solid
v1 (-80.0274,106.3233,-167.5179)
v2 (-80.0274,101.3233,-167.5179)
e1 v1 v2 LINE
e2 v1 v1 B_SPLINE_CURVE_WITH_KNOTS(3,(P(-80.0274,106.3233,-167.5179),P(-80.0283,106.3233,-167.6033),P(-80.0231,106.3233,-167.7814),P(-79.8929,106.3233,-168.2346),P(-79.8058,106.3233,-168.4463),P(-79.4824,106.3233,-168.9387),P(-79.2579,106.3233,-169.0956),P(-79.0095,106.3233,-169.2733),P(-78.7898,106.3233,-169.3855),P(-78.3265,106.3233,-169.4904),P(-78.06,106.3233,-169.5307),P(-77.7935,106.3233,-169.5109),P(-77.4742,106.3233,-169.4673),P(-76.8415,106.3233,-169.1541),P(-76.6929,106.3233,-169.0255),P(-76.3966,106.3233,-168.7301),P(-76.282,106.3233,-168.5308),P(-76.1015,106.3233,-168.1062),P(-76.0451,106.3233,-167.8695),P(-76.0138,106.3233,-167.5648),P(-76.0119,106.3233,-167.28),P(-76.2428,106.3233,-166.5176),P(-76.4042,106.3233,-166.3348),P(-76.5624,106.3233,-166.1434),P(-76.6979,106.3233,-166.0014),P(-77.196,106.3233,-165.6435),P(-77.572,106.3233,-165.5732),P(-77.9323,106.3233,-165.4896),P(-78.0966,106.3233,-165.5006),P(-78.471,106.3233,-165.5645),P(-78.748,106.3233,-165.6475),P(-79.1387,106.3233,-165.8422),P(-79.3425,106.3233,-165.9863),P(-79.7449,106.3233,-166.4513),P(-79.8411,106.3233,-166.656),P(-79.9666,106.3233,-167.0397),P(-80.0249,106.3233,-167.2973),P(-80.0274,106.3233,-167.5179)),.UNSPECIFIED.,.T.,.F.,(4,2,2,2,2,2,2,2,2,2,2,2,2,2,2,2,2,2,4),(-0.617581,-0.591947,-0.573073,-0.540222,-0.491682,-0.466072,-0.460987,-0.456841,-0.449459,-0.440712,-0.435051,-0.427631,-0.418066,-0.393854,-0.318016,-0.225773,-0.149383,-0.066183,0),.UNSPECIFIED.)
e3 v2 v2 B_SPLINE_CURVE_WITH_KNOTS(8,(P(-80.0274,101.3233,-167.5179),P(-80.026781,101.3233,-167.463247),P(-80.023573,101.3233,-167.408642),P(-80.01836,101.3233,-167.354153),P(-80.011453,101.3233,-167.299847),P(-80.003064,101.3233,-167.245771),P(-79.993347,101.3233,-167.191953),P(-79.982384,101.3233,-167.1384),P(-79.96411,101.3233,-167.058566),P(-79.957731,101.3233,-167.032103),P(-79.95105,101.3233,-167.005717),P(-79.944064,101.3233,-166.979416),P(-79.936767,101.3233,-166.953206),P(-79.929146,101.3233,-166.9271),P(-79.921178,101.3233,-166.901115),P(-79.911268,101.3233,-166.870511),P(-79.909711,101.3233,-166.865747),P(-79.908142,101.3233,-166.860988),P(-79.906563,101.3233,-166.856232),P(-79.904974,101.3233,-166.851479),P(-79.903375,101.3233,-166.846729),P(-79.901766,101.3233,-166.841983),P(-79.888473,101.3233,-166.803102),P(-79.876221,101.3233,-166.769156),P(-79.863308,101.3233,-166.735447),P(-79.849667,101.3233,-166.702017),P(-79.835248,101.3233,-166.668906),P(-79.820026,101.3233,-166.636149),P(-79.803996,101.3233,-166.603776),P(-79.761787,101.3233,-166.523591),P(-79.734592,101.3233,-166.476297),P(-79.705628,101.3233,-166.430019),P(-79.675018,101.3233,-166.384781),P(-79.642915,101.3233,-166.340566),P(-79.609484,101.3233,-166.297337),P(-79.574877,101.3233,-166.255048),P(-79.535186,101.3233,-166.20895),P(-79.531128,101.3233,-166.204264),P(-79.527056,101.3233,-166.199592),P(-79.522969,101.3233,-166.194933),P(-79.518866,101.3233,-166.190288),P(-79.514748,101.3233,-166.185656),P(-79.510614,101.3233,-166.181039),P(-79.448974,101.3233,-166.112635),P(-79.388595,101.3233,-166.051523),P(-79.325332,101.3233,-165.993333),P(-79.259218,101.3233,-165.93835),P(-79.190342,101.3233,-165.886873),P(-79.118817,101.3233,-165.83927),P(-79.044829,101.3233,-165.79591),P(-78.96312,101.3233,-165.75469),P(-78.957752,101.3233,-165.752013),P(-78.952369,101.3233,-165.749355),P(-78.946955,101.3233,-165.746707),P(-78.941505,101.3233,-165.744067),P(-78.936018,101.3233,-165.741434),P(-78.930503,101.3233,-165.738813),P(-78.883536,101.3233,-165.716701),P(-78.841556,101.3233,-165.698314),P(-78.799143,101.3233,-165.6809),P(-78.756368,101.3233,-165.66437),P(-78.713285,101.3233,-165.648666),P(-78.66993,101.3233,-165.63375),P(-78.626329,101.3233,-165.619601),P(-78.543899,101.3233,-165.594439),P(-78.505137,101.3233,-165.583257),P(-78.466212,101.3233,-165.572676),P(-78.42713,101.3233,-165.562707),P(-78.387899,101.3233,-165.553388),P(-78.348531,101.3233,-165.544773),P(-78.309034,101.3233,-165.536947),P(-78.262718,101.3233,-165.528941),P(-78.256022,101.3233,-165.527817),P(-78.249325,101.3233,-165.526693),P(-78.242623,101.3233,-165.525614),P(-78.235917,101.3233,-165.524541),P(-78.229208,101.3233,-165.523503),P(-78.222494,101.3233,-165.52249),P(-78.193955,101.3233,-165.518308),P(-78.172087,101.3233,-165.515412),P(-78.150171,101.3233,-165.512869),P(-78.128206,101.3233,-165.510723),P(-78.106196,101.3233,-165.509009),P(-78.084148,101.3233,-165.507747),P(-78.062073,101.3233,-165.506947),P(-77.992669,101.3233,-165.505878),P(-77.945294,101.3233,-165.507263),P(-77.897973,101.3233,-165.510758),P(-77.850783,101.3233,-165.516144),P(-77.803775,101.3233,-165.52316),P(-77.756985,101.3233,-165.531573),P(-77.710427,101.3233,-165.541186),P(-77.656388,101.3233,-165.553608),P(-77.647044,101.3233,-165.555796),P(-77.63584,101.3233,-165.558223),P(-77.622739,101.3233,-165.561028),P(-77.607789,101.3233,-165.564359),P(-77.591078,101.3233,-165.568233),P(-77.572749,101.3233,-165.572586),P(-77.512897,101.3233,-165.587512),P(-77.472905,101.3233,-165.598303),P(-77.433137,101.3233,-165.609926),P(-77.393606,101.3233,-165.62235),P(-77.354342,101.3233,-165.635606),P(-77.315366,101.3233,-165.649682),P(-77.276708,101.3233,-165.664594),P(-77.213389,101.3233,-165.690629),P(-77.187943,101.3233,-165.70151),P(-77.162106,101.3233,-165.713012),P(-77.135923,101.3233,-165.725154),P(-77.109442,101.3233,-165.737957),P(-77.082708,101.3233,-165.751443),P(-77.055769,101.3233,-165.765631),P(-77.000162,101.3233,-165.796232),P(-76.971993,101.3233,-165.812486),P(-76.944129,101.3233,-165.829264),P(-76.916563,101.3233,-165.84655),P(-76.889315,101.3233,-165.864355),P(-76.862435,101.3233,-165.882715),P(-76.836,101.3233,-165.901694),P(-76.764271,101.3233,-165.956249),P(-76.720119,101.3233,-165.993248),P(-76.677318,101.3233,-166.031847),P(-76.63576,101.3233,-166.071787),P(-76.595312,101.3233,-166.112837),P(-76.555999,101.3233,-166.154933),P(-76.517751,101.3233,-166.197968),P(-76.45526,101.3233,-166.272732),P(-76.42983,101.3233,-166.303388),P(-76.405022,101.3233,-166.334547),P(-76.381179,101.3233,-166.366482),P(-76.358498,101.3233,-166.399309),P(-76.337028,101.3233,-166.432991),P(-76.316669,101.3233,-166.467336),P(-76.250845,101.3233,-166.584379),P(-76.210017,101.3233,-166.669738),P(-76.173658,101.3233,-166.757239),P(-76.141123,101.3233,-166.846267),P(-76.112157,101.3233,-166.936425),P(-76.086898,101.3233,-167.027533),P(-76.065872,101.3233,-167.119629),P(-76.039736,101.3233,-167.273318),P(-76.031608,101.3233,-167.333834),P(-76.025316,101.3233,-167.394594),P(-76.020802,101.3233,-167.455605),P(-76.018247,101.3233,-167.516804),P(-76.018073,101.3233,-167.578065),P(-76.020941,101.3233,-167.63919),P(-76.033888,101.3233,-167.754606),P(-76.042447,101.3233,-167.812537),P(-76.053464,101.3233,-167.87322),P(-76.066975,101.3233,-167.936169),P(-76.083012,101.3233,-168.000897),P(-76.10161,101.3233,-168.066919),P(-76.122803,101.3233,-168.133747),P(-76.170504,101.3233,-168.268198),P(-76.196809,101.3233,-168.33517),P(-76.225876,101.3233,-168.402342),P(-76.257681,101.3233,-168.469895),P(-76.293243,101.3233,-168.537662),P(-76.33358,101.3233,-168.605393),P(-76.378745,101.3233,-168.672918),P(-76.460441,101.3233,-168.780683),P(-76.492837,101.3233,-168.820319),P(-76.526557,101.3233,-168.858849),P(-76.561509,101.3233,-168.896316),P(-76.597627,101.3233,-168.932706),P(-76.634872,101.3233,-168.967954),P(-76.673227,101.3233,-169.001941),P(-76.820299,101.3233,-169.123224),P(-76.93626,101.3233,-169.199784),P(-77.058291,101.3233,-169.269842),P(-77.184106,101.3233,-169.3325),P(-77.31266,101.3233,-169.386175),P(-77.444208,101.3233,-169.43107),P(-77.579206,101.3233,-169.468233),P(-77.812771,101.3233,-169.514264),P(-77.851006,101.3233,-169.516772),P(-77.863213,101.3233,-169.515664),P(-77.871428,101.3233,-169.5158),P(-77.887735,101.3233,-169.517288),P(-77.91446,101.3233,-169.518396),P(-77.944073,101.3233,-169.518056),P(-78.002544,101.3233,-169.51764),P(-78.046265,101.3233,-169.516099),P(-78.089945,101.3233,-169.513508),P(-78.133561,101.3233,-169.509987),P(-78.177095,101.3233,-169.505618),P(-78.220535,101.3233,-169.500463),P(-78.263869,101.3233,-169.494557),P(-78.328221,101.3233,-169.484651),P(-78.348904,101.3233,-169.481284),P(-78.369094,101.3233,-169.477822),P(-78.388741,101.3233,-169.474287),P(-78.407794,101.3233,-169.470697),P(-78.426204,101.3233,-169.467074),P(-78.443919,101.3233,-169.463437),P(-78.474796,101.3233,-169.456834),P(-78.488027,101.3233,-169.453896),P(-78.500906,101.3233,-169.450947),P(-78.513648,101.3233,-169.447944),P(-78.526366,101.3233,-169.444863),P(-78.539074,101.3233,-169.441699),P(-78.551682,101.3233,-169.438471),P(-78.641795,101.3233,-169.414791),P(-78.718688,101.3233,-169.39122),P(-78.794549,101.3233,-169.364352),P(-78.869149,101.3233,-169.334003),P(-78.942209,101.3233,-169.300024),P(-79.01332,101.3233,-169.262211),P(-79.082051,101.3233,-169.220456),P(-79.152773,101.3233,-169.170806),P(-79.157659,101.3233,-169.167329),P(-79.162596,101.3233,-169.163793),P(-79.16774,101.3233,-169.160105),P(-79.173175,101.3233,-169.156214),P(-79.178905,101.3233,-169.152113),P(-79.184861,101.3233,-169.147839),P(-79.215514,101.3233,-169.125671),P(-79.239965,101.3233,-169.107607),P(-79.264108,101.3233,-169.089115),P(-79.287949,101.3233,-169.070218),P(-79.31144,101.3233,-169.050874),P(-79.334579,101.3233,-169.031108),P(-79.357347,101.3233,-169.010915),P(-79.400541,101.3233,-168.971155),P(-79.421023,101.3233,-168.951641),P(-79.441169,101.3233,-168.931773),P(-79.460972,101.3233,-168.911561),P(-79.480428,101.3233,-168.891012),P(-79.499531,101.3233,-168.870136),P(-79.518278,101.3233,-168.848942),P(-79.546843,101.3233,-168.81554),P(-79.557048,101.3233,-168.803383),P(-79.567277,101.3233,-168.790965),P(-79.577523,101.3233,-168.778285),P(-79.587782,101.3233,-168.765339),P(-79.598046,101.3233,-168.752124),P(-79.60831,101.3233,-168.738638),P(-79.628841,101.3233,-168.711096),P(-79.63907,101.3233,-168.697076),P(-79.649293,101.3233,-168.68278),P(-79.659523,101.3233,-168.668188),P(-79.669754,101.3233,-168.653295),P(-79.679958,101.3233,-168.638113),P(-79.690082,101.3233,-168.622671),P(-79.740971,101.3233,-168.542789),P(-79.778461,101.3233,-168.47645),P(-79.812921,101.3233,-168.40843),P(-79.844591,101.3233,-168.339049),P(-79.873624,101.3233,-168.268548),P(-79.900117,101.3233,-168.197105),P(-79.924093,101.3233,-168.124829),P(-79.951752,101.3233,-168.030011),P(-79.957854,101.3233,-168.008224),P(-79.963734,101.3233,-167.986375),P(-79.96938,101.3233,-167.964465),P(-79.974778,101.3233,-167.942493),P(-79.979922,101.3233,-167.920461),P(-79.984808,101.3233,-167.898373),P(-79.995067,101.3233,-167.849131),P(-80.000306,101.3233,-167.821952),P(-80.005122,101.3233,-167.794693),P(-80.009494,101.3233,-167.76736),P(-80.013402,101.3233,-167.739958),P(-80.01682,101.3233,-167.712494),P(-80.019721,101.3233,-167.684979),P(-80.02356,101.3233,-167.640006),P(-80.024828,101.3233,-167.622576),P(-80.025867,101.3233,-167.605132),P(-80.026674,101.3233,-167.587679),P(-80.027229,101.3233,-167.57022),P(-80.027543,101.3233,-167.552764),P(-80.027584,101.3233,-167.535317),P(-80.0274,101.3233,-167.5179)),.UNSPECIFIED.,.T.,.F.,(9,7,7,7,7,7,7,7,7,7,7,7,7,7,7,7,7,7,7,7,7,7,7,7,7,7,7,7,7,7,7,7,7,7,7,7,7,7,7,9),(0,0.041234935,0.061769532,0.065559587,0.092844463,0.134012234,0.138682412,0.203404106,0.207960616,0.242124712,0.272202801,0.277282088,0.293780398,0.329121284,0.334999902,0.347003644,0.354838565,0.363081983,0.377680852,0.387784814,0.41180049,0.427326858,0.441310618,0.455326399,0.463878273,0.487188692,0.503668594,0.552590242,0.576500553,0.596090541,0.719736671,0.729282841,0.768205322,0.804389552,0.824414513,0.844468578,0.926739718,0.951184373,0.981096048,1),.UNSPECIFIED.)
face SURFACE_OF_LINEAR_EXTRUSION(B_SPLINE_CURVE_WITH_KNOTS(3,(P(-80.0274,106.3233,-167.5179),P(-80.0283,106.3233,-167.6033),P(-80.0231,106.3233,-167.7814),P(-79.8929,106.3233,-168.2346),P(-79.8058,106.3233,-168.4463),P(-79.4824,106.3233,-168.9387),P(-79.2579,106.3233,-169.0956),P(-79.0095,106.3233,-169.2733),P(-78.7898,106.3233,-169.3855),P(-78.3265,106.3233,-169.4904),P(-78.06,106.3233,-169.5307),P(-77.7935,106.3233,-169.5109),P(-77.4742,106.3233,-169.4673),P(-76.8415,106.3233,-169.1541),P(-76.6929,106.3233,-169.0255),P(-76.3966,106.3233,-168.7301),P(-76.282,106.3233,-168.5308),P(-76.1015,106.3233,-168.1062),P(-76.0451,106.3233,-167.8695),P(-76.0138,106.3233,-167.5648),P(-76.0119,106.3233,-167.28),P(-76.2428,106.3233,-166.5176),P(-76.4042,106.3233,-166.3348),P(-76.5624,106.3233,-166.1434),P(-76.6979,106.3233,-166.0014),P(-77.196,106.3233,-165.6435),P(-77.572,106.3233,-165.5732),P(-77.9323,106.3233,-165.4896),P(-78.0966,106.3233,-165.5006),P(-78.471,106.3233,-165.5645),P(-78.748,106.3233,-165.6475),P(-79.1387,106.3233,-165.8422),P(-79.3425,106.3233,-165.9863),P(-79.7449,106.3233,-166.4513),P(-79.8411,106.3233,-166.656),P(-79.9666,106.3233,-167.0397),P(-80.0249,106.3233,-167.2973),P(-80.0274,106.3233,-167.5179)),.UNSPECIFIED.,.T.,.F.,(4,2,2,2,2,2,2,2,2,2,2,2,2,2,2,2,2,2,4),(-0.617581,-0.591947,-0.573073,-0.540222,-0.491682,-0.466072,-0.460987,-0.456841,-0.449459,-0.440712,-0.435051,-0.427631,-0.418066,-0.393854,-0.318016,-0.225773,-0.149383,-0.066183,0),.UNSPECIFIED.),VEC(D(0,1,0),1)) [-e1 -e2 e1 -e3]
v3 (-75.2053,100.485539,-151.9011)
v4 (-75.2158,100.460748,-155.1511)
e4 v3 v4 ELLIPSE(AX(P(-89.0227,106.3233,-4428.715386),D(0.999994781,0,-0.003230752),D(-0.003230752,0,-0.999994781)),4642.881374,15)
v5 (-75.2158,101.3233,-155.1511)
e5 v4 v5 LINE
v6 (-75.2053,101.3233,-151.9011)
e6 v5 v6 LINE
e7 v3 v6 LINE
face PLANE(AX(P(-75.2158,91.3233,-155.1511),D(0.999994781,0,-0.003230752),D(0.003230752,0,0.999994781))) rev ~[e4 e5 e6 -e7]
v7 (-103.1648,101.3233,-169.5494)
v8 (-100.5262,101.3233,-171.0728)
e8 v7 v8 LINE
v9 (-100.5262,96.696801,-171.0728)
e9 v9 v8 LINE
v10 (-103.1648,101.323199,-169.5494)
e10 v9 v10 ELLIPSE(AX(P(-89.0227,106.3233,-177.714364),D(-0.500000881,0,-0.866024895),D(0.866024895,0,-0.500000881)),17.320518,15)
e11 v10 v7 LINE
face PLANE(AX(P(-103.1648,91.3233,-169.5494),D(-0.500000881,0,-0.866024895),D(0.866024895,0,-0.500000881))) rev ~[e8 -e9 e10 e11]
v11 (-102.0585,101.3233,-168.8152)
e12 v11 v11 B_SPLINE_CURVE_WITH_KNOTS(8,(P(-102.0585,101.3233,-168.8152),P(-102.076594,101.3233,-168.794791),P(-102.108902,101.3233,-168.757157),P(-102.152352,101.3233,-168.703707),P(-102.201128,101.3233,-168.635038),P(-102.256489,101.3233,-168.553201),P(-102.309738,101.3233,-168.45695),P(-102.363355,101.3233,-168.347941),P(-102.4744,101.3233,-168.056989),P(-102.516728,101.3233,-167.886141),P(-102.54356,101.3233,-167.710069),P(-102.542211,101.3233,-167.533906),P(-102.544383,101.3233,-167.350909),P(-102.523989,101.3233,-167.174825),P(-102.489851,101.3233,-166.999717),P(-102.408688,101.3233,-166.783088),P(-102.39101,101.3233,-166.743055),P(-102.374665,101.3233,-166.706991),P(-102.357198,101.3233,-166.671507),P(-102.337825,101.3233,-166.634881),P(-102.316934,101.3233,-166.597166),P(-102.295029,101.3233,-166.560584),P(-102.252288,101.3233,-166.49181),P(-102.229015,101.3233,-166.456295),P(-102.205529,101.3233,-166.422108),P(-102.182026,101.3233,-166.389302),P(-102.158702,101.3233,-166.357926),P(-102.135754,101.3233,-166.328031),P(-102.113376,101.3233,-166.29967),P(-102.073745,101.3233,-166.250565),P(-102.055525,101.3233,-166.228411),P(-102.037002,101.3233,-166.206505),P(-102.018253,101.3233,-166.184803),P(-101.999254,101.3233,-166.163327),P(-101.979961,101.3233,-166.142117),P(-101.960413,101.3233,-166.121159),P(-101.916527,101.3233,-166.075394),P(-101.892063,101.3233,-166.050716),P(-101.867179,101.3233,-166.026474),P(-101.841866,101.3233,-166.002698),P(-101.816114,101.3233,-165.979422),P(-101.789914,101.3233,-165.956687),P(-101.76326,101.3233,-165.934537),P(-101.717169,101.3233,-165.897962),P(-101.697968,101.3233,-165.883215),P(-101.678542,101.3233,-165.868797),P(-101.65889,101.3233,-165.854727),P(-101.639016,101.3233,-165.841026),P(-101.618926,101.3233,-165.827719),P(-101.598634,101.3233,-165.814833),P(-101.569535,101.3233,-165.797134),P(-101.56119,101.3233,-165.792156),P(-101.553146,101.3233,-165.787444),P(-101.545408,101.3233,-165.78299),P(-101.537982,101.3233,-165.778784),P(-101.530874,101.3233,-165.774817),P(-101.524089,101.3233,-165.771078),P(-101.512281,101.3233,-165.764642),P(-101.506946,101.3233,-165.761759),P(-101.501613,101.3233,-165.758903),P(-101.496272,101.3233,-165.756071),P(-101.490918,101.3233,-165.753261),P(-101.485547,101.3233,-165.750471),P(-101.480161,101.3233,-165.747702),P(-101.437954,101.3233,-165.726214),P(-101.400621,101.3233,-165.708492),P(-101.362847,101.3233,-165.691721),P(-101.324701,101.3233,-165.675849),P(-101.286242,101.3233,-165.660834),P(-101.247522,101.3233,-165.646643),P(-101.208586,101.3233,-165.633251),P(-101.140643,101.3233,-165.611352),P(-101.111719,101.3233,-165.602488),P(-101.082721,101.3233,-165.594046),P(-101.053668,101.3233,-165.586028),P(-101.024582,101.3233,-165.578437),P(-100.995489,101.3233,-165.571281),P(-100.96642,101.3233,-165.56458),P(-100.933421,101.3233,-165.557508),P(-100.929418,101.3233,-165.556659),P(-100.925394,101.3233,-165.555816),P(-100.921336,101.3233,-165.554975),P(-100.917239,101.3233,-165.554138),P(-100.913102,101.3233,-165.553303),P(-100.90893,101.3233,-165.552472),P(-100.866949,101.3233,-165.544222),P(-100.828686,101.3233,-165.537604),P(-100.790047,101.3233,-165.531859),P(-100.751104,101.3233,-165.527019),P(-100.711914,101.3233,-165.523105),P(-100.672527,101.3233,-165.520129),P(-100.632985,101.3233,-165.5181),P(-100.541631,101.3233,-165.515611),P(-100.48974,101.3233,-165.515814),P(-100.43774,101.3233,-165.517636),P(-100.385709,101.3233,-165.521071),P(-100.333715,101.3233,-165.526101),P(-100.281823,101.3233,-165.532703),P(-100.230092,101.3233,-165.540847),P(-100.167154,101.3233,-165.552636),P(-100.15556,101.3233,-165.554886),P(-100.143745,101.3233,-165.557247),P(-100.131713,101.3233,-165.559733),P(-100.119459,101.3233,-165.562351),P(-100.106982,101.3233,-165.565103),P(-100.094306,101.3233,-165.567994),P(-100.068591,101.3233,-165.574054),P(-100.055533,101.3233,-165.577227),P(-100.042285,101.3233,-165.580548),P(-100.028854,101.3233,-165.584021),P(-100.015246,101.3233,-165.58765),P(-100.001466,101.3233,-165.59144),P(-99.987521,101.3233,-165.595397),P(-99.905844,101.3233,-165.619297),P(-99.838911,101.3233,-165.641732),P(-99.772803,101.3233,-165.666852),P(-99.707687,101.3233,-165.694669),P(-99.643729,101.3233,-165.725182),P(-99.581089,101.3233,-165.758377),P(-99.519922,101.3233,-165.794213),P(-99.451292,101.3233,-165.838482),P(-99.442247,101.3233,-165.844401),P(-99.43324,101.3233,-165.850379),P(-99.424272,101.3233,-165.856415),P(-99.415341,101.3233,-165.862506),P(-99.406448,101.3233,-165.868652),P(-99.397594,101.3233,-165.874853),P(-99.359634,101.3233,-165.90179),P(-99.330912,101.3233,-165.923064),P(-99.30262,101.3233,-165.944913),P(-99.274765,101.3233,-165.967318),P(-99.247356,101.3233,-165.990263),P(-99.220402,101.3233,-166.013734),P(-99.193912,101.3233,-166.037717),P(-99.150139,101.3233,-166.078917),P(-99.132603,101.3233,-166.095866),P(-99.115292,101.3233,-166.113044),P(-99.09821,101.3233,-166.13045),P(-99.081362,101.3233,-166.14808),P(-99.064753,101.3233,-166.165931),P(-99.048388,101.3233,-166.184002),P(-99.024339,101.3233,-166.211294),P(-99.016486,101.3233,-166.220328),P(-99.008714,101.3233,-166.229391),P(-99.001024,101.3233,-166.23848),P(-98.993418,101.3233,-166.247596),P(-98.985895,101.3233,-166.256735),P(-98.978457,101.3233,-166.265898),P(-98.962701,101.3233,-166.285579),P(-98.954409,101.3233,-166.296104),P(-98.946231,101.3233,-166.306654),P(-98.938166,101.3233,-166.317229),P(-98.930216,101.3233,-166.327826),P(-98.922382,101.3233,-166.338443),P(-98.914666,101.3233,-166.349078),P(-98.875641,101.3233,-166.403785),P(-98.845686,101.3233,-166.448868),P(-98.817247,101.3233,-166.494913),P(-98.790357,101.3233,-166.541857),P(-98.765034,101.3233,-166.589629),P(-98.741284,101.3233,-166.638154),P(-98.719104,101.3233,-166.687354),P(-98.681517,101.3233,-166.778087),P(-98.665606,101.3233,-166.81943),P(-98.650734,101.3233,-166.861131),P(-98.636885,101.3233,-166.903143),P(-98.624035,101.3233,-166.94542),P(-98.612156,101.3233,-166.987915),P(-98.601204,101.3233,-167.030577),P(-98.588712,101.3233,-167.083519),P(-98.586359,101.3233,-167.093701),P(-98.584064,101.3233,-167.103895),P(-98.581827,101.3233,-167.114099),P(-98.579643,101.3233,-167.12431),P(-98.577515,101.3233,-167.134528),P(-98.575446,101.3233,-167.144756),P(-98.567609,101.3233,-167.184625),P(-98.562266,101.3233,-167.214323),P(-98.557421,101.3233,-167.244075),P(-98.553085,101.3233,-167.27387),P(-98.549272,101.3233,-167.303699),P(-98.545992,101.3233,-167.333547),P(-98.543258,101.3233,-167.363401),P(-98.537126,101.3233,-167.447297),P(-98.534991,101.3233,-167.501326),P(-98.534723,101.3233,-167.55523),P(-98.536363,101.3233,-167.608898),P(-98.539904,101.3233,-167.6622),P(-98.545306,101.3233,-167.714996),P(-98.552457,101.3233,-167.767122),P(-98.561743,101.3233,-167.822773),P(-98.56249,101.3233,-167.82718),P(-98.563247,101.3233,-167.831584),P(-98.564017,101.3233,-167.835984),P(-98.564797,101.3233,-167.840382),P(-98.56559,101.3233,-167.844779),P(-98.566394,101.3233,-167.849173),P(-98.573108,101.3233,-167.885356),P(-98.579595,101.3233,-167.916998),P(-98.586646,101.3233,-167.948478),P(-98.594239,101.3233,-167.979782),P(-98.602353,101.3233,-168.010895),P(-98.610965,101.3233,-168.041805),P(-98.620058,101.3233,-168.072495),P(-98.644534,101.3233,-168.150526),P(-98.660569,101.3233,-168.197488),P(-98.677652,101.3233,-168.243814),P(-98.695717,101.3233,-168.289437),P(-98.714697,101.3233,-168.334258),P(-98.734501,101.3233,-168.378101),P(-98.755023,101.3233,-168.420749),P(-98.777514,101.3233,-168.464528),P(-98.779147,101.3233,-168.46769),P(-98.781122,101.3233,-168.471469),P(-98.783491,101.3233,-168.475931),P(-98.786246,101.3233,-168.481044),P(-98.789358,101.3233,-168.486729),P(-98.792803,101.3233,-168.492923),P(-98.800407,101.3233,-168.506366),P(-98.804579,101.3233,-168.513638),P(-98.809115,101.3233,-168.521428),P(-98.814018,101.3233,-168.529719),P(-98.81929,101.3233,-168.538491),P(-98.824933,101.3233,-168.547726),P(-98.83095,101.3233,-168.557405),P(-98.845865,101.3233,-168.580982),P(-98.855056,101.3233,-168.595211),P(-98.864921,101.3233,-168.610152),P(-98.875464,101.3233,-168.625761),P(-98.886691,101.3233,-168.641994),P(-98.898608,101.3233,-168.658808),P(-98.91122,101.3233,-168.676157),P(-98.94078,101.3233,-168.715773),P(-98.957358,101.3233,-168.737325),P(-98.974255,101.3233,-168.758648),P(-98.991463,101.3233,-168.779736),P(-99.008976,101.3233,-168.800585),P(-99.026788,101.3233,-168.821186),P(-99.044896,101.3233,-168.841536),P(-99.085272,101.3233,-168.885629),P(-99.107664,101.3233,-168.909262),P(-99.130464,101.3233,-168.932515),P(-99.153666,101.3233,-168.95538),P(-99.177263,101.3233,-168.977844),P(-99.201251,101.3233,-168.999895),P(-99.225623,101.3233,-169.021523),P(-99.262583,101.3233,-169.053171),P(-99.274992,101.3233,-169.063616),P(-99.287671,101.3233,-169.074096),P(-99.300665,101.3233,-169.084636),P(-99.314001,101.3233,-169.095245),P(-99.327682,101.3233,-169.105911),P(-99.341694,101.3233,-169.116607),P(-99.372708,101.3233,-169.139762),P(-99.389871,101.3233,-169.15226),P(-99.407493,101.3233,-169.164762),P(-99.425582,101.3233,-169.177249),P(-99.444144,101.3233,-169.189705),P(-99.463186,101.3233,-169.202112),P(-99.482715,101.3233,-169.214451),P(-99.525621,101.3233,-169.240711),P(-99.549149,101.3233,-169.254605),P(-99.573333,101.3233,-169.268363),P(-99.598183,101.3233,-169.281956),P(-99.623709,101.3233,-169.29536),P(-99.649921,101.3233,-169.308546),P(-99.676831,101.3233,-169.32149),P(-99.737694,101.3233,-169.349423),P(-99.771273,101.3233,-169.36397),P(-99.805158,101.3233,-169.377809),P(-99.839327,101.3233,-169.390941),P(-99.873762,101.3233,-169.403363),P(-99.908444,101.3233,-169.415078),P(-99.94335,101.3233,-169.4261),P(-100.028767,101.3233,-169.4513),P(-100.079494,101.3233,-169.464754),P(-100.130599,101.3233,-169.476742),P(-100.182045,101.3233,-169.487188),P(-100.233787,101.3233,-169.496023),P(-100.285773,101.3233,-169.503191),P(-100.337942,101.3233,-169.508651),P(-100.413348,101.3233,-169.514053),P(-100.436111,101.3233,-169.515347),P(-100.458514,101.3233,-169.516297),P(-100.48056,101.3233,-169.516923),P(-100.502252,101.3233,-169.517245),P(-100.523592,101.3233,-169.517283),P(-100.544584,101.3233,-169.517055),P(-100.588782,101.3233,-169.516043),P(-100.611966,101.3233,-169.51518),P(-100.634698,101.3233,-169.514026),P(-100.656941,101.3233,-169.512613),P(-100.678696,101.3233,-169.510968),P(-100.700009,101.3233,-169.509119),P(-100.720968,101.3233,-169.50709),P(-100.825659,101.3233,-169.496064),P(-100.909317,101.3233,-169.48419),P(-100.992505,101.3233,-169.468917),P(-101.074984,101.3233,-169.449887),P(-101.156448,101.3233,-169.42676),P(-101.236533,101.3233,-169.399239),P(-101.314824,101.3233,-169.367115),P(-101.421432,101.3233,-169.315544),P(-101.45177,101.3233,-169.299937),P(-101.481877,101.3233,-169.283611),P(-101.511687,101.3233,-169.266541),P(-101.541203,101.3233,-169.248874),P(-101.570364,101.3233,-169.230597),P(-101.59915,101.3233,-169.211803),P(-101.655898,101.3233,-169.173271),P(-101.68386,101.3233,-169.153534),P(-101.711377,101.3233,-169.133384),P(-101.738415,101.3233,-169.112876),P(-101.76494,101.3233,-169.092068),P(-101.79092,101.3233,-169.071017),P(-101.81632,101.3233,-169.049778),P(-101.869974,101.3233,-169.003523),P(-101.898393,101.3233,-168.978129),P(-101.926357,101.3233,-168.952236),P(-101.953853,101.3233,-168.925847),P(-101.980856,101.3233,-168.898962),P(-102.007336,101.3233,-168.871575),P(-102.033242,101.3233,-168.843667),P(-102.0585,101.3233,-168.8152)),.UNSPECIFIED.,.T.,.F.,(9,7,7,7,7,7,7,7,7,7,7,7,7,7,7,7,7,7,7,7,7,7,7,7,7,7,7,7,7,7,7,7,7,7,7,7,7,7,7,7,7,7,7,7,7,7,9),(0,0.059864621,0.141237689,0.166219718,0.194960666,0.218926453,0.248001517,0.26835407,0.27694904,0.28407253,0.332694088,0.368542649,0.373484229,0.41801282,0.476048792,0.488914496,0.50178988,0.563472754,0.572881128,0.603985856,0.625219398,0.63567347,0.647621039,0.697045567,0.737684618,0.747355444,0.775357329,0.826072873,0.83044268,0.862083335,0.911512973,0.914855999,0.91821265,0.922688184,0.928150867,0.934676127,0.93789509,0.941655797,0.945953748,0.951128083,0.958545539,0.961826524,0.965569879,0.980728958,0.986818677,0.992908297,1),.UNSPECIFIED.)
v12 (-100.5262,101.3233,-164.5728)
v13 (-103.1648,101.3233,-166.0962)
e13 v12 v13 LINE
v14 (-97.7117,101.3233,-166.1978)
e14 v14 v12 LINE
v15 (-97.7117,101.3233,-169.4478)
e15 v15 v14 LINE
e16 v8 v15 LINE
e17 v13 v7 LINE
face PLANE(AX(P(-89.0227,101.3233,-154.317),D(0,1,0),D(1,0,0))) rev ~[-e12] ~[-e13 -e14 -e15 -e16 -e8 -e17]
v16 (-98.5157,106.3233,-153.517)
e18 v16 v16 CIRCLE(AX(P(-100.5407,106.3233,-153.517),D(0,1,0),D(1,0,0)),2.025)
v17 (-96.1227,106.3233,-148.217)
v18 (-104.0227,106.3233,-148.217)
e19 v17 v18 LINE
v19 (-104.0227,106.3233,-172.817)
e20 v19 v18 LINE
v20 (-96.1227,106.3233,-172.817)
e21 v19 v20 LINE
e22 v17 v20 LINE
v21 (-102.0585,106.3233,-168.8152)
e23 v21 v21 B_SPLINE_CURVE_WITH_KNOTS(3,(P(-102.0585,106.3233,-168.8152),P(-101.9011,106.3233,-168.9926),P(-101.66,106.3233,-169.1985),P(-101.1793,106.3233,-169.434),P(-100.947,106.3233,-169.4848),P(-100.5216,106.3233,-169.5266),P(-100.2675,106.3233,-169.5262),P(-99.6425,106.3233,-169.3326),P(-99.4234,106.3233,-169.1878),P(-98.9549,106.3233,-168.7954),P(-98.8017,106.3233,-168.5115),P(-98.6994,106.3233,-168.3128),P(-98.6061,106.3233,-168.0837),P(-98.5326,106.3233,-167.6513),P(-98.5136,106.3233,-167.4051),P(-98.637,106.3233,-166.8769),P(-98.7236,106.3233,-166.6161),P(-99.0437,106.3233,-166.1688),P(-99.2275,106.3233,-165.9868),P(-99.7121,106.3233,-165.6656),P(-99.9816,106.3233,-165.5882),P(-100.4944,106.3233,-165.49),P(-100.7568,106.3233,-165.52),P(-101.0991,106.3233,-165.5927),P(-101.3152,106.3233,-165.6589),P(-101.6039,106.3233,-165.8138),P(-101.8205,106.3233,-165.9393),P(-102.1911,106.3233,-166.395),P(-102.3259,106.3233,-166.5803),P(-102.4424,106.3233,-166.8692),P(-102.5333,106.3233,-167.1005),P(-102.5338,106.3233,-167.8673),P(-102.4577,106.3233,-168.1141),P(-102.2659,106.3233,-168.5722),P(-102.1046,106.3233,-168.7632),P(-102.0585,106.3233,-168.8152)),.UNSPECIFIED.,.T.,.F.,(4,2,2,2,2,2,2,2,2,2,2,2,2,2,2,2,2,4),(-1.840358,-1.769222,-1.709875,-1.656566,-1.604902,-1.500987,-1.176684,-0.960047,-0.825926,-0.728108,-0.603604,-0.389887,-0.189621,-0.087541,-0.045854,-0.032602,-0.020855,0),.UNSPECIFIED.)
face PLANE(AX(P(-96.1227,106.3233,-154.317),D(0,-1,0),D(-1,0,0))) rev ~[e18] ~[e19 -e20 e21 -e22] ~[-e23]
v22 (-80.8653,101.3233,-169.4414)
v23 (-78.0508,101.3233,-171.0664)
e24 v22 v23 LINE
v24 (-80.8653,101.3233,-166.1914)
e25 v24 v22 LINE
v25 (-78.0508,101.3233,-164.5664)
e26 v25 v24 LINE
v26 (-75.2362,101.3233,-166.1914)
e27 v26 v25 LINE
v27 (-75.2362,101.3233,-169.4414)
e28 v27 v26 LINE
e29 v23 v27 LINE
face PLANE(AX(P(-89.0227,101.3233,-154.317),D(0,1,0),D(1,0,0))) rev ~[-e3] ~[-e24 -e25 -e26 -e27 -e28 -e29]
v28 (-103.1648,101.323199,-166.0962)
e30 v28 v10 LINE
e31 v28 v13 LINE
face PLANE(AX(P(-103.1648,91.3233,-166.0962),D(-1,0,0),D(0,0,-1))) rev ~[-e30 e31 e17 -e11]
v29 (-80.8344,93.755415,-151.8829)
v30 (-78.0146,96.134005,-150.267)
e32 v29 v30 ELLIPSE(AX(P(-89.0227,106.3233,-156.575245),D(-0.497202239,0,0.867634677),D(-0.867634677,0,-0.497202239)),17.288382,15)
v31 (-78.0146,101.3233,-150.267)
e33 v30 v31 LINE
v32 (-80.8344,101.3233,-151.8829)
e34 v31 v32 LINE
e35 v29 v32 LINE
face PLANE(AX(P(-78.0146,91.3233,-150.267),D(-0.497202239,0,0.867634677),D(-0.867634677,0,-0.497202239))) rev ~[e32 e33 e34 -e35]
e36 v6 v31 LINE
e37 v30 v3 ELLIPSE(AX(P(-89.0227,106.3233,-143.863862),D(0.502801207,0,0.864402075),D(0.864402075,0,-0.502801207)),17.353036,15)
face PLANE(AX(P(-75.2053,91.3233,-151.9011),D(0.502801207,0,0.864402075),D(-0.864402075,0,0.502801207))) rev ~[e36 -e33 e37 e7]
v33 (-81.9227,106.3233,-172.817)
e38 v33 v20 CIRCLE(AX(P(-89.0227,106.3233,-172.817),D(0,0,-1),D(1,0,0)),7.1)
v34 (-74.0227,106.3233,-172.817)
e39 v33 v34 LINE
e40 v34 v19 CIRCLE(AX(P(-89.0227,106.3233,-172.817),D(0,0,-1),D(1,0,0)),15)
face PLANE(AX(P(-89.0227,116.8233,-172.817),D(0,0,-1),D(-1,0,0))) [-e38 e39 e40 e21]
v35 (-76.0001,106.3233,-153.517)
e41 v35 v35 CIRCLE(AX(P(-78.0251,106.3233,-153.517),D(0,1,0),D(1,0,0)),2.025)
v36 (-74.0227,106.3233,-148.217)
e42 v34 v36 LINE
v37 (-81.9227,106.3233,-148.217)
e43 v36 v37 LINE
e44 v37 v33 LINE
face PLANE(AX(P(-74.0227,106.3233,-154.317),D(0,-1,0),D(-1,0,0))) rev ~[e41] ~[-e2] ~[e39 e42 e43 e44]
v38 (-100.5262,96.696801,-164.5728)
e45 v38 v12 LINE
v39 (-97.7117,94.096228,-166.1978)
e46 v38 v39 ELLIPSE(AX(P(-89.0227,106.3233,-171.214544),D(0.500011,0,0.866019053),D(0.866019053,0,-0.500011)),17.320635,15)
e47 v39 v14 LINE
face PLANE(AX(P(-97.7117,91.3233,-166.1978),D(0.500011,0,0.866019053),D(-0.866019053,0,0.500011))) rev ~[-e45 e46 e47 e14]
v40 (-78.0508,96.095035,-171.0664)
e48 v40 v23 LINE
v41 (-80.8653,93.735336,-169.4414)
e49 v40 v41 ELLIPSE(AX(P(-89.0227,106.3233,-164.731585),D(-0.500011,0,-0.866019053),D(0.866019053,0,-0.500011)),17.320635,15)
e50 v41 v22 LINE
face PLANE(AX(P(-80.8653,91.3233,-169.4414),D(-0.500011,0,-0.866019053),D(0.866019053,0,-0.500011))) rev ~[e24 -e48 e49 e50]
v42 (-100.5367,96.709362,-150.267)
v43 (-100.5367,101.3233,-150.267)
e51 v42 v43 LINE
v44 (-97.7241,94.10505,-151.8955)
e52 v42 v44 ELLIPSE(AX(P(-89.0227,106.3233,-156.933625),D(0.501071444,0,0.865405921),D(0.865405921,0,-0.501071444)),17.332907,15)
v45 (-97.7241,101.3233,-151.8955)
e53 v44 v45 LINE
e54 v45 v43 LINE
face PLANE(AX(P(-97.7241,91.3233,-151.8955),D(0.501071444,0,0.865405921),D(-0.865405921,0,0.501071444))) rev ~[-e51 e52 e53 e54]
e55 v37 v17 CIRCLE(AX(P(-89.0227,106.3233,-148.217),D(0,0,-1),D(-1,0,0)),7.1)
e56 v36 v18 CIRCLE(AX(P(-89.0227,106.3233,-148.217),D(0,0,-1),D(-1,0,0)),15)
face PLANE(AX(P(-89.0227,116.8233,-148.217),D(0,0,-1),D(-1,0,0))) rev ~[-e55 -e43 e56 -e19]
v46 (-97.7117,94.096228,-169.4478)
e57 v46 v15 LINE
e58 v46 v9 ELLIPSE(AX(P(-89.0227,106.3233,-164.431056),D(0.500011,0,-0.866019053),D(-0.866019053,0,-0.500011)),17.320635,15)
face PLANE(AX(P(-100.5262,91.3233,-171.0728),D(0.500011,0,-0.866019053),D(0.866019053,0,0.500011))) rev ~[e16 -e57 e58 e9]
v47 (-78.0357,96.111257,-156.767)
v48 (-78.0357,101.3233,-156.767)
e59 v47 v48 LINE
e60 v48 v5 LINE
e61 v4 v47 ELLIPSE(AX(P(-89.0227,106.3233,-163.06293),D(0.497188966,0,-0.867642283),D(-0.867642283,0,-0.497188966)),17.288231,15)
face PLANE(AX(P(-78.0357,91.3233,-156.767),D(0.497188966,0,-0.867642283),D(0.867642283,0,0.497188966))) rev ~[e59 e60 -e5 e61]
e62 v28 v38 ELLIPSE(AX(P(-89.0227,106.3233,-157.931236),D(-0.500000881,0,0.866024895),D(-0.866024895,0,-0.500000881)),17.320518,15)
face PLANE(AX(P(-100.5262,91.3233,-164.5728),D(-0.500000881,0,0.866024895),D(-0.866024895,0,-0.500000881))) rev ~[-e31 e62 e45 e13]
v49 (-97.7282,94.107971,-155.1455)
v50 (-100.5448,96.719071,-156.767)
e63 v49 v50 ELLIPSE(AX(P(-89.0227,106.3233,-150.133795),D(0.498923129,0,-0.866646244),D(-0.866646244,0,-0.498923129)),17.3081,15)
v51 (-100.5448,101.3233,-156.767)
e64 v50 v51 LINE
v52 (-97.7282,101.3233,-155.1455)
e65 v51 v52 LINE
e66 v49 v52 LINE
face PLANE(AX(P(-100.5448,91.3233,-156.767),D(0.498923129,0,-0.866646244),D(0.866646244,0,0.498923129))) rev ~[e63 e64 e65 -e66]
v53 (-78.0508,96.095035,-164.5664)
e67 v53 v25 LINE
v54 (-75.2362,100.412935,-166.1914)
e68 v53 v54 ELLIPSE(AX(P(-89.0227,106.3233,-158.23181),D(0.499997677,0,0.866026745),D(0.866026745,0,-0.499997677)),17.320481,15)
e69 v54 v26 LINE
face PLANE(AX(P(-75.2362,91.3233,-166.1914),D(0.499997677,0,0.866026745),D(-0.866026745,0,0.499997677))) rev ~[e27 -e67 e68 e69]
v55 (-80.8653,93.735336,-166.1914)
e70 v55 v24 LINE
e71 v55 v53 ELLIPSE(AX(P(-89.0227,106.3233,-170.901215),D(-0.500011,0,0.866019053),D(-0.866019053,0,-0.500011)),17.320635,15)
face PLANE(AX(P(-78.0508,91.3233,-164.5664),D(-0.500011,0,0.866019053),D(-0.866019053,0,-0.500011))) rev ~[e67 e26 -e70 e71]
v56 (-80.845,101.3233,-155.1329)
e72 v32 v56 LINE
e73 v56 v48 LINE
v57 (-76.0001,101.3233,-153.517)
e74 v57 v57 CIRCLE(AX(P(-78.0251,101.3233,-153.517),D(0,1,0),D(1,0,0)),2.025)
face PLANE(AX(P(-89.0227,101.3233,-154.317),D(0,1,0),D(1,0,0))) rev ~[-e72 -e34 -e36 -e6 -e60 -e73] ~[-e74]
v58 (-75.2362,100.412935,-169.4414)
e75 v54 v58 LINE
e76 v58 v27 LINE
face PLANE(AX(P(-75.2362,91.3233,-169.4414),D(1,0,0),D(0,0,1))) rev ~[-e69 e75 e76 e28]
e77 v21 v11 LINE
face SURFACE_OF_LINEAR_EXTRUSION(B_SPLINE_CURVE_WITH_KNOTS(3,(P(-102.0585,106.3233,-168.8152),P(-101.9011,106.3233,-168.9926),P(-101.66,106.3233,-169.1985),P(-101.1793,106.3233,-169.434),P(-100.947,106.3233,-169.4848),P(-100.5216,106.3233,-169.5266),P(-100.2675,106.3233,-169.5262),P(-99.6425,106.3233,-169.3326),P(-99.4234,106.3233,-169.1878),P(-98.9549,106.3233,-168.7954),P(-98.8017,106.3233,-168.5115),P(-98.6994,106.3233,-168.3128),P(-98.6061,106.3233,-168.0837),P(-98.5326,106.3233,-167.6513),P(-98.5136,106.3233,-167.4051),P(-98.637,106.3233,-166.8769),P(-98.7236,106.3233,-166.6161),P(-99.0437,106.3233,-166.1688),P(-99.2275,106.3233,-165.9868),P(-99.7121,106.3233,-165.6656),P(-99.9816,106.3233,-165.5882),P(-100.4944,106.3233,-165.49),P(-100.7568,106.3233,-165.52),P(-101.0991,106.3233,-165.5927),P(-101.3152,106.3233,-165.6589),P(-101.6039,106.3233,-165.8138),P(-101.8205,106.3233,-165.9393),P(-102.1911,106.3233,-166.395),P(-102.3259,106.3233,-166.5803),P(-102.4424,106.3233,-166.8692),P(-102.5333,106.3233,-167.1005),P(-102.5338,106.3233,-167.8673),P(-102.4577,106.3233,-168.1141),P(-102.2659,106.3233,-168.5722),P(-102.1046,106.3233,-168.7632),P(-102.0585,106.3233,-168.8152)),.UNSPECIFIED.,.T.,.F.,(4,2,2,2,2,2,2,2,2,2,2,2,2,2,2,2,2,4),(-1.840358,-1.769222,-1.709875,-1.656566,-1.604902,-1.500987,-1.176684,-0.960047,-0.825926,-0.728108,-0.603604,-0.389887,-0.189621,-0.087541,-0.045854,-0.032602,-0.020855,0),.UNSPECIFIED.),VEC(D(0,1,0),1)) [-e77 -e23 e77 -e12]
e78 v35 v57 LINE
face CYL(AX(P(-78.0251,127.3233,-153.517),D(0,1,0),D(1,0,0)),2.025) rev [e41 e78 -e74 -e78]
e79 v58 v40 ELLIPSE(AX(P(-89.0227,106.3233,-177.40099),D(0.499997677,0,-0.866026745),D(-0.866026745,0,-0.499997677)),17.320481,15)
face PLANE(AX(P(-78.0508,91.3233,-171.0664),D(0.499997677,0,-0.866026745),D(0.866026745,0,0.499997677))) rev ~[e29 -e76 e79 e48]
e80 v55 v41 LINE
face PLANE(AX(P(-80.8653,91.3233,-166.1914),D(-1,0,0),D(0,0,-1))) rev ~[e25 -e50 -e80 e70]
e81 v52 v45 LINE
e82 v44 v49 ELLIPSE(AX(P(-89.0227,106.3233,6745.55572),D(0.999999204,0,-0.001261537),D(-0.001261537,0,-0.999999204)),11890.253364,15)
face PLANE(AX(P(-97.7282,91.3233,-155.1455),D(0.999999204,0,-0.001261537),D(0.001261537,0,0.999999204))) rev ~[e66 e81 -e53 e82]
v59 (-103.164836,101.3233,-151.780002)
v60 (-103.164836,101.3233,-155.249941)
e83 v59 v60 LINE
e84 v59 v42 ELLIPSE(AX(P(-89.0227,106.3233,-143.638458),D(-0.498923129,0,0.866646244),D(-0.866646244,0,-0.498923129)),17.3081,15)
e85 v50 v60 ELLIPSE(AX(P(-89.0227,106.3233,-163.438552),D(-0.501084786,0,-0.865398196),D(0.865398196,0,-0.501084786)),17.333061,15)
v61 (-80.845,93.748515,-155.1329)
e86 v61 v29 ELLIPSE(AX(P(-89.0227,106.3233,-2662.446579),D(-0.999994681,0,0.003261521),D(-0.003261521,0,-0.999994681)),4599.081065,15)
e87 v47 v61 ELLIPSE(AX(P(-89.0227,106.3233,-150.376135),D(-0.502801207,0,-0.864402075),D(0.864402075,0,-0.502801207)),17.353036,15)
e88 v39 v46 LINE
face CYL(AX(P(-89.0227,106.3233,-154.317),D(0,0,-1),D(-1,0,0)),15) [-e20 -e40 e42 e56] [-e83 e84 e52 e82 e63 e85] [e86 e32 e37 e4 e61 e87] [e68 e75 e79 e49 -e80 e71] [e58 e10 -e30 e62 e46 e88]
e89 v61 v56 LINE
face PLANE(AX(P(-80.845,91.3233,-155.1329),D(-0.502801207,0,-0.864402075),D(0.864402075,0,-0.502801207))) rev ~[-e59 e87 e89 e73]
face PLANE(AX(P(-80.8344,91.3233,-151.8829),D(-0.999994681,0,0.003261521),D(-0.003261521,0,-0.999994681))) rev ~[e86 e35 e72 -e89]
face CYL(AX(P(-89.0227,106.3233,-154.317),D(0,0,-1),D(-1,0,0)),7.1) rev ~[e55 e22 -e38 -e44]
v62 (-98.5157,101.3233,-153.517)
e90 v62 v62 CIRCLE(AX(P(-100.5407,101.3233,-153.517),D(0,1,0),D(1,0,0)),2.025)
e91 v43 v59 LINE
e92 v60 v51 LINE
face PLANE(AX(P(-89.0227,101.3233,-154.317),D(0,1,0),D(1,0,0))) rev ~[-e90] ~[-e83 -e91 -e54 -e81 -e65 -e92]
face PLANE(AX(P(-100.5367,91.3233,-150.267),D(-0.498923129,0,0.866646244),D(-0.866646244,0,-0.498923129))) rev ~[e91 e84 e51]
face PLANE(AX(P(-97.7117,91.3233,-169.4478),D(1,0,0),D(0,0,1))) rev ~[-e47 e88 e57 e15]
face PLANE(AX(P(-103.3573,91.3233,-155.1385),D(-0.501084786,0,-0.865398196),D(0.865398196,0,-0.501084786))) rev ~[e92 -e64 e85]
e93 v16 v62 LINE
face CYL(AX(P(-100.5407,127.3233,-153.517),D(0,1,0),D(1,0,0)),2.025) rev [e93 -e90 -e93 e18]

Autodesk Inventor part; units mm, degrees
ref_plane "YZ Plane" through (0, 0, 0) normal (1, 0, 0) x (0, 1, 0)
ref_plane "XZ Plane" through (0, 0, 0) normal (0, 1, 0) x (-1, 0, 0)
sketch "Эскиз1" plane through (-89.0227, 116.8233, -154.317) normal (0, 0, -1) x (-1, 0, 0)
  arc A0 (7.1, -10.5) -> (-7.1, -10.5) centre (0, -10.5) ccw projected
  line L0 (7.1, -10.5) -> (15, -10.5) projected
  line L1 (15, -10.5) -> (15, 7.5) projected
  line L2 (15, 7.5) -> (17, 7.5) projected
  line L3 (20, 10.5) -> (-20, 10.5) projected
  line L4 (-17, 7.5) -> (-15, 7.5) projected
  line L5 (-15, 7.5) -> (-15, -10.5) projected
  line L6 (-15, -10.5) -> (-7.1, -10.5) projected
  circle A1 centre (0, -10.5) radius 15
  line L7 (15, -10.5) -> (-15, -10.5)
  circle A2 centre (0, -10.5) radius 7 projected
  circle A3 centre (0, -10.5) radius 7.1
  line L8 (15, -10.5) -> (-15, -10.5)
  line L9 (20, 10.5) -> (17, 7.5) projected
  line L10 (-17, 7.5) -> (-20, 10.5) projected
  point P0 (-89.0227, -116.8233)
  point P1 (-7.1, -10.5)
extrude "Выдавливание1" add sketch "Эскиз1" against normal blind 6.1 contours L0 A1 L6 A3
ref_plane "РабПлоскость2" through (-89.2672, 127.3233, -149.317) normal (0, -1, 0) x (1, 0, 0)
ref_plane "РабПлоскость3" through (-89.0227, 91.3233, -154.317) normal (0, 1, 0) x (1, 0, 0)
sketch "Эскиз3" plane through (-89.2672, 127.3233, -149.317) normal (0, -1, 0) x (1, 0, 0)
  point P0 (89.2672, 149.317)
sketch "Эскиз4" plane through (-89.0227, 91.3233, -154.317) normal (0, 1, 0) x (1, 0, 0)
  circle A0 centre (-11.518, -0.8) radius 2.025
  circle A1 centre (10.9976, -0.8) radius 2.025
  circle A2 centre (10.9976, -0.8) radius 3.25
  line L0 (8.1777, 0.8159) -> (10.987, 2.45)
  line L1 (10.987, 2.45) -> (13.8069, 0.8341)
  line L2 (13.8069, 0.8341) -> (13.8174, -2.4159)
  line L3 (13.8174, -2.4159) -> (11.0081, -4.05)
  line L4 (11.0081, -4.05) -> (8.1883, -2.4341)
  line L5 (8.1883, -2.4341) -> (8.1777, 0.8159)
  circle A3 centre (-11.518, -0.8) radius 3.25
  line L6 (-14.3346, 0.8215) -> (-11.5221, 2.45)
  line L7 (-11.5221, 2.45) -> (-8.7055, 0.8285)
  line L8 (-8.7055, 0.8285) -> (-8.7014, -2.4215)
  line L9 (-8.7014, -2.4215) -> (-11.514, -4.05)
  line L10 (-11.514, -4.05) -> (-14.3306, -2.4285)
  line L11 (-14.3306, -2.4285) -> (-14.3346, 0.8215)
  point P0 (89.0227, -154.317)
  point P1 (-9.5168, -5)
  point P2 (-13.3499, -5.8)
  dimension "d19" = 6.5
sketch "Эскиз5" plane through (-89.0227, 116.8233, -154.317) normal (0, 0, -1) x (-1, 0, 0)
  arc A0 (-15, -10.5) -> (15, -10.5) centre (0, -10.5) ccw projected
  arc A1 (-7.1, -10.5) -> (7.1, -10.5) centre (0, -10.5) ccw projected
  line L0 (-7.1, -10.5) -> (-15, -10.5) projected
  line L1 (15, -10.5) -> (7.1, -10.5) projected
  point P0 (-89.0227, -116.8233)
ref_plane "РабПлоскость4" through (-119.2672, 76.6183, -172.817) normal (0, 0, 1) x (1, 0, 0)
extrude "Выдавливание5" add sketch "Эскиз5" along normal up to surface (18.5 mm away)
sketch "Эскиз6" plane through (-81.9227, 106.3233, -148.217) normal (0, 1, 0) x (1, 0, 0)
  spline S0 degree 3 poles (3.9004, 2.9999) (3.7245, 2.9999) (3.4489, 3.0214) (2.9324, 3.2367) (2.7005, 3.3696) (2.2383, 3.836) (2.1143, 4.0825) (1.9216, 4.5561) (1.8983, 4.8272) (1.9018, 5.2007) (1.9271, 5.4608) (2.115, 5.9172) (2.2283, 6.1414) (2.6589, 6.5988) (2.8813, 6.7317) (3.3428, 6.9462) (3.5921, 6.9833) (3.938, 7.0077) (4.1964, 7.0052) (4.7621, 6.8239) (4.993, 6.6978) (5.3793, 6.3686) (5.5529, 6.1613) (5.836, 5.6049) (5.8802, 5.3338) (5.9139, 4.8965) (5.8839, 4.6393) (5.7537, 4.2295) (5.6627, 4.0097) (5.3189, 3.5657) (5.1225, 3.3931) (4.7049, 3.1558) (4.5337, 3.0993) (4.2495, 3.0231) (4.0752, 3) (3.9004, 2.9999) knots 0 0 0 0 0.05278 0.05278 0.086326 0.086326 0.123204 0.123204 0.191125 0.191125 0.256265 0.256265 0.291032 0.291032 0.325738 0.325738 0.381328 0.381328 0.440927 0.440927 0.488647 0.488647 0.532429 0.532429 0.584012 0.584012 0.657631 0.657631 0.707027 0.707027 0.750679 0.750679 0.786548 0.786548 0.838987 0.838987 0.838987 0.838987 projected
  line L0 (7.9, 0) -> (7.9, 10) projected
  line L1 (7.9, 28.5) -> (7.9, 10) projected
  spline S1 degree 3 poles (-18.6169, 3) (-18.8661, 3) (-19.1174, 3.0465) (-19.5436, 3.2165) (-19.7767, 3.3398) (-20.1687, 3.7191) (-20.3359, 3.938) (-20.5737, 4.4851) (-20.6126, 4.7587) (-20.621, 5.202) (-20.5814, 5.4471) (-20.4, 5.9515) (-20.2582, 6.1524) (-19.9577, 6.5137) (-19.7534, 6.6562) (-19.3614, 6.8745) (-19.1056, 6.9583) (-18.5778, 7.0163) (-18.3108, 6.9948) (-17.7812, 6.8389) (-17.5504, 6.709) (-17.1606, 6.3952) (-16.9882, 6.1918) (-16.7635, 5.7779) (-16.6604, 5.5273) (-16.5953, 4.8865) (-16.6419, 4.6209) (-16.754, 4.2513) (-16.8422, 4.0327) (-17.1223, 3.6603) (-17.294, 3.4644) (-17.7748, 3.1712) (-17.9576, 3.1063) (-18.2654, 3.0232) (-18.4408, 3) (-18.6169, 3) knots 0 0 0 0 0.074777 0.074777 0.132907 0.132907 0.176214 0.176214 0.221242 0.221242 0.273328 0.273328 0.334855 0.334855 0.445019 0.445019 0.599494 0.599494 0.747069 0.747069 0.901689 0.901689 1.065475 1.065475 1.190217 1.190217 1.309721 1.309721 1.411319 1.411319 1.472242 1.472242 1.514996 1.514996 1.5678 1.5678 1.5678 1.5678 projected
  spline S2 degree 3 poles (1.8953, 19.3009) (1.8944, 19.3863) (1.8996, 19.5644) (2.0298, 20.0176) (2.1169, 20.2293) (2.4403, 20.7217) (2.6648, 20.8786) (2.9132, 21.0563) (3.1329, 21.1685) (3.5962, 21.2734) (3.8627, 21.3137) (4.1292, 21.2939) (4.4485, 21.2503) (5.0812, 20.9371) (5.2298, 20.8085) (5.5261, 20.5131) (5.6407, 20.3138) (5.8212, 19.8892) (5.8776, 19.6525) (5.9089, 19.3478) (5.9108, 19.063) (5.6799, 18.3006) (5.5185, 18.1178) (5.3603, 17.9264) (5.2248, 17.7844) (4.7267, 17.4265) (4.3507, 17.3562) (3.9904, 17.2726) (3.8261, 17.2836) (3.4517, 17.3475) (3.1747, 17.4305) (2.784, 17.6252) (2.5802, 17.7693) (2.1778, 18.2343) (2.0816, 18.439) (1.9561, 18.8227) (1.8978, 19.0803) (1.8953, 19.3009) knots -0.617581 -0.617581 -0.617581 -0.617581 -0.591947 -0.591947 -0.573073 -0.573073 -0.540222 -0.540222 -0.491682 -0.491682 -0.466072 -0.466072 -0.460987 -0.460987 -0.456841 -0.456841 -0.449459 -0.449459 -0.440712 -0.440712 -0.435051 -0.435051 -0.427631 -0.427631 -0.418066 -0.418066 -0.393854 -0.393854 -0.318016 -0.318016 -0.225773 -0.225773 -0.149383 -0.149383 -0.066183 -0.066183 0 0 0 0
  spline S3 degree 3 poles (-20.1358, 20.5982) (-19.9784, 20.7756) (-19.7373, 20.9815) (-19.2566, 21.217) (-19.0243, 21.2678) (-18.5989, 21.3096) (-18.3448, 21.3092) (-17.7198, 21.1156) (-17.5007, 20.9708) (-17.0322, 20.5784) (-16.879, 20.2945) (-16.7767, 20.0958) (-16.6834, 19.8667) (-16.6099, 19.4343) (-16.5909, 19.1881) (-16.7143, 18.6599) (-16.8009, 18.3991) (-17.121, 17.9518) (-17.3048, 17.7698) (-17.7894, 17.4486) (-18.0589, 17.3712) (-18.5717, 17.273) (-18.8341, 17.303) (-19.1764, 17.3757) (-19.3925, 17.4419) (-19.6812, 17.5968) (-19.8978, 17.7223) (-20.2684, 18.178) (-20.4032, 18.3633) (-20.5197, 18.6522) (-20.6106, 18.8835) (-20.6111, 19.6503) (-20.535, 19.8971) (-20.3432, 20.3552) (-20.1819, 20.5462) (-20.1358, 20.5982) knots -1.840358 -1.840358 -1.840358 -1.840358 -1.769222 -1.769222 -1.709875 -1.709875 -1.656566 -1.656566 -1.604902 -1.604902 -1.500987 -1.500987 -1.176684 -1.176684 -0.960047 -0.960047 -0.825926 -0.825926 -0.728108 -0.728108 -0.603604 -0.603604 -0.389887 -0.389887 -0.189621 -0.189621 -0.087541 -0.087541 -0.045854 -0.045854 -0.032602 -0.032602 -0.020855 -0.020855 0 0 0 0
  point P0 (81.9227, -148.217)
  point P1 (3.9004, 2.9999)
  point P2 (7.9, 14.25)
  point P3 (-18.6169, 3)
extrude "Выдавливание6" cut sketch "Эскиз6" against normal blind 21.25 contours S2 | S3
extrude "Выдавливание3" cut sketch "Эскиз4" along normal blind 10 contours A0 | A1 | L2 L3 L4 L5 L0 L1 | L8 L9 L10 L11 L6 L7
sketch "Эскиз7" plane through (-89.0227, 91.3233, -154.317) normal (0, 1, 0) x (1, 0, 0)
  line L0 (13.7865, -5.8) -> (13.7865, -3.3744) projected
  line L1 (13.7865, -3.3744) -> (10.9719, -1.7494) projected
  line L2 (10.9719, -1.7494) -> (8.1574, -3.3744) projected
  line L3 (8.1574, -3.3744) -> (8.1574, -5.8) projected
  line L4 (8.1574, -6.6244) -> (10.9719, -8.2494) projected
  line L5 (10.9719, -8.2494) -> (13.7865, -6.6244) projected
  line L6 (-14.1421, -3.2792) -> (-14.1421, -5.8) projected
  line L7 (-11.5035, -1.7558) -> (-14.1421, -3.2792) projected
  line L8 (-8.689, -3.3808) -> (-11.5035, -1.7558) projected
  line L9 (-8.689, -5.8) -> (-8.689, -3.3808) projected
  line L10 (-11.5035, -8.2558) -> (-8.689, -6.6308) projected
  line L11 (-14.1421, -6.7324) -> (-11.5035, -8.2558) projected
  line L12 (-15, -6.1) -> (-15, 18.5) projected
  line L13 (-15, 4.25) -> (5.6318, 4.25)
  line L14 (13.7865, 15.1244) -> (13.7865, 11.8744)
  line L15 (13.7865, 11.8744) -> (10.9719, 10.2494)
  line L16 (10.9719, 10.2494) -> (8.1574, 11.8744)
  line L17 (8.1574, 11.8744) -> (8.1574, 15.1244)
  line L18 (8.1574, 15.1244) -> (10.9719, 16.7494)
  line L19 (10.9719, 16.7494) -> (13.7865, 15.1244)
  line L20 (-14.1421, 11.7792) -> (-14.1421, 15.2324)
  line L21 (-11.5035, 10.2558) -> (-14.1421, 11.7792)
  line L22 (-8.689, 11.8808) -> (-11.5035, 10.2558)
  line L23 (-8.689, 15.1308) -> (-8.689, 11.8808)
  line L24 (-11.5035, 16.7558) -> (-8.689, 15.1308)
  line L25 (-14.1421, 15.2324) -> (-11.5035, 16.7558)
  point P0 (89.0227, -154.317)
  point P1 (-11.5169, 15.5)
  point P2 (11.0004, 15.5001)
  point P3 (-9.3627, -7.088)
  point P4 (-9.3627, 15.588)
  point P5 (-13.3496, 18.5)
  point P6 (-9.686, 18.5)
  point P7 (9.1713, 18.5)
  point P8 (12.8315, 18.5)
  dimension "d16" = 14.25
extrude "Выдавливание7" cut sketch "Эскиз7" along normal up to surface (10 mm away)
sketch "Эскиз2" plane through (-89.2672, 127.3233, -149.317) normal (0, -1, 0) x (1, 0, 0)
  line L0 (-14.7555, -5) -> (15.2445, -5) projected
  line L1 (15.2445, -5) -> (15.2445, 1.1) projected
  line L2 (-6.8555, 1.1) -> (7.3445, 1.1) projected
  line L3 (-0.0139, 1.1) -> (-0.0139, -5)
  circle A0 centre (-11.2735, -4.2) radius 2.025
  circle A1 centre (11.2421, -4.2) radius 2.025
  point P0 (89.2672, 149.317)
extrude "Выдавливание8" cut sketch "Эскиз2" along normal blind 51.5
properties part number "верх штуки для подшипников"
